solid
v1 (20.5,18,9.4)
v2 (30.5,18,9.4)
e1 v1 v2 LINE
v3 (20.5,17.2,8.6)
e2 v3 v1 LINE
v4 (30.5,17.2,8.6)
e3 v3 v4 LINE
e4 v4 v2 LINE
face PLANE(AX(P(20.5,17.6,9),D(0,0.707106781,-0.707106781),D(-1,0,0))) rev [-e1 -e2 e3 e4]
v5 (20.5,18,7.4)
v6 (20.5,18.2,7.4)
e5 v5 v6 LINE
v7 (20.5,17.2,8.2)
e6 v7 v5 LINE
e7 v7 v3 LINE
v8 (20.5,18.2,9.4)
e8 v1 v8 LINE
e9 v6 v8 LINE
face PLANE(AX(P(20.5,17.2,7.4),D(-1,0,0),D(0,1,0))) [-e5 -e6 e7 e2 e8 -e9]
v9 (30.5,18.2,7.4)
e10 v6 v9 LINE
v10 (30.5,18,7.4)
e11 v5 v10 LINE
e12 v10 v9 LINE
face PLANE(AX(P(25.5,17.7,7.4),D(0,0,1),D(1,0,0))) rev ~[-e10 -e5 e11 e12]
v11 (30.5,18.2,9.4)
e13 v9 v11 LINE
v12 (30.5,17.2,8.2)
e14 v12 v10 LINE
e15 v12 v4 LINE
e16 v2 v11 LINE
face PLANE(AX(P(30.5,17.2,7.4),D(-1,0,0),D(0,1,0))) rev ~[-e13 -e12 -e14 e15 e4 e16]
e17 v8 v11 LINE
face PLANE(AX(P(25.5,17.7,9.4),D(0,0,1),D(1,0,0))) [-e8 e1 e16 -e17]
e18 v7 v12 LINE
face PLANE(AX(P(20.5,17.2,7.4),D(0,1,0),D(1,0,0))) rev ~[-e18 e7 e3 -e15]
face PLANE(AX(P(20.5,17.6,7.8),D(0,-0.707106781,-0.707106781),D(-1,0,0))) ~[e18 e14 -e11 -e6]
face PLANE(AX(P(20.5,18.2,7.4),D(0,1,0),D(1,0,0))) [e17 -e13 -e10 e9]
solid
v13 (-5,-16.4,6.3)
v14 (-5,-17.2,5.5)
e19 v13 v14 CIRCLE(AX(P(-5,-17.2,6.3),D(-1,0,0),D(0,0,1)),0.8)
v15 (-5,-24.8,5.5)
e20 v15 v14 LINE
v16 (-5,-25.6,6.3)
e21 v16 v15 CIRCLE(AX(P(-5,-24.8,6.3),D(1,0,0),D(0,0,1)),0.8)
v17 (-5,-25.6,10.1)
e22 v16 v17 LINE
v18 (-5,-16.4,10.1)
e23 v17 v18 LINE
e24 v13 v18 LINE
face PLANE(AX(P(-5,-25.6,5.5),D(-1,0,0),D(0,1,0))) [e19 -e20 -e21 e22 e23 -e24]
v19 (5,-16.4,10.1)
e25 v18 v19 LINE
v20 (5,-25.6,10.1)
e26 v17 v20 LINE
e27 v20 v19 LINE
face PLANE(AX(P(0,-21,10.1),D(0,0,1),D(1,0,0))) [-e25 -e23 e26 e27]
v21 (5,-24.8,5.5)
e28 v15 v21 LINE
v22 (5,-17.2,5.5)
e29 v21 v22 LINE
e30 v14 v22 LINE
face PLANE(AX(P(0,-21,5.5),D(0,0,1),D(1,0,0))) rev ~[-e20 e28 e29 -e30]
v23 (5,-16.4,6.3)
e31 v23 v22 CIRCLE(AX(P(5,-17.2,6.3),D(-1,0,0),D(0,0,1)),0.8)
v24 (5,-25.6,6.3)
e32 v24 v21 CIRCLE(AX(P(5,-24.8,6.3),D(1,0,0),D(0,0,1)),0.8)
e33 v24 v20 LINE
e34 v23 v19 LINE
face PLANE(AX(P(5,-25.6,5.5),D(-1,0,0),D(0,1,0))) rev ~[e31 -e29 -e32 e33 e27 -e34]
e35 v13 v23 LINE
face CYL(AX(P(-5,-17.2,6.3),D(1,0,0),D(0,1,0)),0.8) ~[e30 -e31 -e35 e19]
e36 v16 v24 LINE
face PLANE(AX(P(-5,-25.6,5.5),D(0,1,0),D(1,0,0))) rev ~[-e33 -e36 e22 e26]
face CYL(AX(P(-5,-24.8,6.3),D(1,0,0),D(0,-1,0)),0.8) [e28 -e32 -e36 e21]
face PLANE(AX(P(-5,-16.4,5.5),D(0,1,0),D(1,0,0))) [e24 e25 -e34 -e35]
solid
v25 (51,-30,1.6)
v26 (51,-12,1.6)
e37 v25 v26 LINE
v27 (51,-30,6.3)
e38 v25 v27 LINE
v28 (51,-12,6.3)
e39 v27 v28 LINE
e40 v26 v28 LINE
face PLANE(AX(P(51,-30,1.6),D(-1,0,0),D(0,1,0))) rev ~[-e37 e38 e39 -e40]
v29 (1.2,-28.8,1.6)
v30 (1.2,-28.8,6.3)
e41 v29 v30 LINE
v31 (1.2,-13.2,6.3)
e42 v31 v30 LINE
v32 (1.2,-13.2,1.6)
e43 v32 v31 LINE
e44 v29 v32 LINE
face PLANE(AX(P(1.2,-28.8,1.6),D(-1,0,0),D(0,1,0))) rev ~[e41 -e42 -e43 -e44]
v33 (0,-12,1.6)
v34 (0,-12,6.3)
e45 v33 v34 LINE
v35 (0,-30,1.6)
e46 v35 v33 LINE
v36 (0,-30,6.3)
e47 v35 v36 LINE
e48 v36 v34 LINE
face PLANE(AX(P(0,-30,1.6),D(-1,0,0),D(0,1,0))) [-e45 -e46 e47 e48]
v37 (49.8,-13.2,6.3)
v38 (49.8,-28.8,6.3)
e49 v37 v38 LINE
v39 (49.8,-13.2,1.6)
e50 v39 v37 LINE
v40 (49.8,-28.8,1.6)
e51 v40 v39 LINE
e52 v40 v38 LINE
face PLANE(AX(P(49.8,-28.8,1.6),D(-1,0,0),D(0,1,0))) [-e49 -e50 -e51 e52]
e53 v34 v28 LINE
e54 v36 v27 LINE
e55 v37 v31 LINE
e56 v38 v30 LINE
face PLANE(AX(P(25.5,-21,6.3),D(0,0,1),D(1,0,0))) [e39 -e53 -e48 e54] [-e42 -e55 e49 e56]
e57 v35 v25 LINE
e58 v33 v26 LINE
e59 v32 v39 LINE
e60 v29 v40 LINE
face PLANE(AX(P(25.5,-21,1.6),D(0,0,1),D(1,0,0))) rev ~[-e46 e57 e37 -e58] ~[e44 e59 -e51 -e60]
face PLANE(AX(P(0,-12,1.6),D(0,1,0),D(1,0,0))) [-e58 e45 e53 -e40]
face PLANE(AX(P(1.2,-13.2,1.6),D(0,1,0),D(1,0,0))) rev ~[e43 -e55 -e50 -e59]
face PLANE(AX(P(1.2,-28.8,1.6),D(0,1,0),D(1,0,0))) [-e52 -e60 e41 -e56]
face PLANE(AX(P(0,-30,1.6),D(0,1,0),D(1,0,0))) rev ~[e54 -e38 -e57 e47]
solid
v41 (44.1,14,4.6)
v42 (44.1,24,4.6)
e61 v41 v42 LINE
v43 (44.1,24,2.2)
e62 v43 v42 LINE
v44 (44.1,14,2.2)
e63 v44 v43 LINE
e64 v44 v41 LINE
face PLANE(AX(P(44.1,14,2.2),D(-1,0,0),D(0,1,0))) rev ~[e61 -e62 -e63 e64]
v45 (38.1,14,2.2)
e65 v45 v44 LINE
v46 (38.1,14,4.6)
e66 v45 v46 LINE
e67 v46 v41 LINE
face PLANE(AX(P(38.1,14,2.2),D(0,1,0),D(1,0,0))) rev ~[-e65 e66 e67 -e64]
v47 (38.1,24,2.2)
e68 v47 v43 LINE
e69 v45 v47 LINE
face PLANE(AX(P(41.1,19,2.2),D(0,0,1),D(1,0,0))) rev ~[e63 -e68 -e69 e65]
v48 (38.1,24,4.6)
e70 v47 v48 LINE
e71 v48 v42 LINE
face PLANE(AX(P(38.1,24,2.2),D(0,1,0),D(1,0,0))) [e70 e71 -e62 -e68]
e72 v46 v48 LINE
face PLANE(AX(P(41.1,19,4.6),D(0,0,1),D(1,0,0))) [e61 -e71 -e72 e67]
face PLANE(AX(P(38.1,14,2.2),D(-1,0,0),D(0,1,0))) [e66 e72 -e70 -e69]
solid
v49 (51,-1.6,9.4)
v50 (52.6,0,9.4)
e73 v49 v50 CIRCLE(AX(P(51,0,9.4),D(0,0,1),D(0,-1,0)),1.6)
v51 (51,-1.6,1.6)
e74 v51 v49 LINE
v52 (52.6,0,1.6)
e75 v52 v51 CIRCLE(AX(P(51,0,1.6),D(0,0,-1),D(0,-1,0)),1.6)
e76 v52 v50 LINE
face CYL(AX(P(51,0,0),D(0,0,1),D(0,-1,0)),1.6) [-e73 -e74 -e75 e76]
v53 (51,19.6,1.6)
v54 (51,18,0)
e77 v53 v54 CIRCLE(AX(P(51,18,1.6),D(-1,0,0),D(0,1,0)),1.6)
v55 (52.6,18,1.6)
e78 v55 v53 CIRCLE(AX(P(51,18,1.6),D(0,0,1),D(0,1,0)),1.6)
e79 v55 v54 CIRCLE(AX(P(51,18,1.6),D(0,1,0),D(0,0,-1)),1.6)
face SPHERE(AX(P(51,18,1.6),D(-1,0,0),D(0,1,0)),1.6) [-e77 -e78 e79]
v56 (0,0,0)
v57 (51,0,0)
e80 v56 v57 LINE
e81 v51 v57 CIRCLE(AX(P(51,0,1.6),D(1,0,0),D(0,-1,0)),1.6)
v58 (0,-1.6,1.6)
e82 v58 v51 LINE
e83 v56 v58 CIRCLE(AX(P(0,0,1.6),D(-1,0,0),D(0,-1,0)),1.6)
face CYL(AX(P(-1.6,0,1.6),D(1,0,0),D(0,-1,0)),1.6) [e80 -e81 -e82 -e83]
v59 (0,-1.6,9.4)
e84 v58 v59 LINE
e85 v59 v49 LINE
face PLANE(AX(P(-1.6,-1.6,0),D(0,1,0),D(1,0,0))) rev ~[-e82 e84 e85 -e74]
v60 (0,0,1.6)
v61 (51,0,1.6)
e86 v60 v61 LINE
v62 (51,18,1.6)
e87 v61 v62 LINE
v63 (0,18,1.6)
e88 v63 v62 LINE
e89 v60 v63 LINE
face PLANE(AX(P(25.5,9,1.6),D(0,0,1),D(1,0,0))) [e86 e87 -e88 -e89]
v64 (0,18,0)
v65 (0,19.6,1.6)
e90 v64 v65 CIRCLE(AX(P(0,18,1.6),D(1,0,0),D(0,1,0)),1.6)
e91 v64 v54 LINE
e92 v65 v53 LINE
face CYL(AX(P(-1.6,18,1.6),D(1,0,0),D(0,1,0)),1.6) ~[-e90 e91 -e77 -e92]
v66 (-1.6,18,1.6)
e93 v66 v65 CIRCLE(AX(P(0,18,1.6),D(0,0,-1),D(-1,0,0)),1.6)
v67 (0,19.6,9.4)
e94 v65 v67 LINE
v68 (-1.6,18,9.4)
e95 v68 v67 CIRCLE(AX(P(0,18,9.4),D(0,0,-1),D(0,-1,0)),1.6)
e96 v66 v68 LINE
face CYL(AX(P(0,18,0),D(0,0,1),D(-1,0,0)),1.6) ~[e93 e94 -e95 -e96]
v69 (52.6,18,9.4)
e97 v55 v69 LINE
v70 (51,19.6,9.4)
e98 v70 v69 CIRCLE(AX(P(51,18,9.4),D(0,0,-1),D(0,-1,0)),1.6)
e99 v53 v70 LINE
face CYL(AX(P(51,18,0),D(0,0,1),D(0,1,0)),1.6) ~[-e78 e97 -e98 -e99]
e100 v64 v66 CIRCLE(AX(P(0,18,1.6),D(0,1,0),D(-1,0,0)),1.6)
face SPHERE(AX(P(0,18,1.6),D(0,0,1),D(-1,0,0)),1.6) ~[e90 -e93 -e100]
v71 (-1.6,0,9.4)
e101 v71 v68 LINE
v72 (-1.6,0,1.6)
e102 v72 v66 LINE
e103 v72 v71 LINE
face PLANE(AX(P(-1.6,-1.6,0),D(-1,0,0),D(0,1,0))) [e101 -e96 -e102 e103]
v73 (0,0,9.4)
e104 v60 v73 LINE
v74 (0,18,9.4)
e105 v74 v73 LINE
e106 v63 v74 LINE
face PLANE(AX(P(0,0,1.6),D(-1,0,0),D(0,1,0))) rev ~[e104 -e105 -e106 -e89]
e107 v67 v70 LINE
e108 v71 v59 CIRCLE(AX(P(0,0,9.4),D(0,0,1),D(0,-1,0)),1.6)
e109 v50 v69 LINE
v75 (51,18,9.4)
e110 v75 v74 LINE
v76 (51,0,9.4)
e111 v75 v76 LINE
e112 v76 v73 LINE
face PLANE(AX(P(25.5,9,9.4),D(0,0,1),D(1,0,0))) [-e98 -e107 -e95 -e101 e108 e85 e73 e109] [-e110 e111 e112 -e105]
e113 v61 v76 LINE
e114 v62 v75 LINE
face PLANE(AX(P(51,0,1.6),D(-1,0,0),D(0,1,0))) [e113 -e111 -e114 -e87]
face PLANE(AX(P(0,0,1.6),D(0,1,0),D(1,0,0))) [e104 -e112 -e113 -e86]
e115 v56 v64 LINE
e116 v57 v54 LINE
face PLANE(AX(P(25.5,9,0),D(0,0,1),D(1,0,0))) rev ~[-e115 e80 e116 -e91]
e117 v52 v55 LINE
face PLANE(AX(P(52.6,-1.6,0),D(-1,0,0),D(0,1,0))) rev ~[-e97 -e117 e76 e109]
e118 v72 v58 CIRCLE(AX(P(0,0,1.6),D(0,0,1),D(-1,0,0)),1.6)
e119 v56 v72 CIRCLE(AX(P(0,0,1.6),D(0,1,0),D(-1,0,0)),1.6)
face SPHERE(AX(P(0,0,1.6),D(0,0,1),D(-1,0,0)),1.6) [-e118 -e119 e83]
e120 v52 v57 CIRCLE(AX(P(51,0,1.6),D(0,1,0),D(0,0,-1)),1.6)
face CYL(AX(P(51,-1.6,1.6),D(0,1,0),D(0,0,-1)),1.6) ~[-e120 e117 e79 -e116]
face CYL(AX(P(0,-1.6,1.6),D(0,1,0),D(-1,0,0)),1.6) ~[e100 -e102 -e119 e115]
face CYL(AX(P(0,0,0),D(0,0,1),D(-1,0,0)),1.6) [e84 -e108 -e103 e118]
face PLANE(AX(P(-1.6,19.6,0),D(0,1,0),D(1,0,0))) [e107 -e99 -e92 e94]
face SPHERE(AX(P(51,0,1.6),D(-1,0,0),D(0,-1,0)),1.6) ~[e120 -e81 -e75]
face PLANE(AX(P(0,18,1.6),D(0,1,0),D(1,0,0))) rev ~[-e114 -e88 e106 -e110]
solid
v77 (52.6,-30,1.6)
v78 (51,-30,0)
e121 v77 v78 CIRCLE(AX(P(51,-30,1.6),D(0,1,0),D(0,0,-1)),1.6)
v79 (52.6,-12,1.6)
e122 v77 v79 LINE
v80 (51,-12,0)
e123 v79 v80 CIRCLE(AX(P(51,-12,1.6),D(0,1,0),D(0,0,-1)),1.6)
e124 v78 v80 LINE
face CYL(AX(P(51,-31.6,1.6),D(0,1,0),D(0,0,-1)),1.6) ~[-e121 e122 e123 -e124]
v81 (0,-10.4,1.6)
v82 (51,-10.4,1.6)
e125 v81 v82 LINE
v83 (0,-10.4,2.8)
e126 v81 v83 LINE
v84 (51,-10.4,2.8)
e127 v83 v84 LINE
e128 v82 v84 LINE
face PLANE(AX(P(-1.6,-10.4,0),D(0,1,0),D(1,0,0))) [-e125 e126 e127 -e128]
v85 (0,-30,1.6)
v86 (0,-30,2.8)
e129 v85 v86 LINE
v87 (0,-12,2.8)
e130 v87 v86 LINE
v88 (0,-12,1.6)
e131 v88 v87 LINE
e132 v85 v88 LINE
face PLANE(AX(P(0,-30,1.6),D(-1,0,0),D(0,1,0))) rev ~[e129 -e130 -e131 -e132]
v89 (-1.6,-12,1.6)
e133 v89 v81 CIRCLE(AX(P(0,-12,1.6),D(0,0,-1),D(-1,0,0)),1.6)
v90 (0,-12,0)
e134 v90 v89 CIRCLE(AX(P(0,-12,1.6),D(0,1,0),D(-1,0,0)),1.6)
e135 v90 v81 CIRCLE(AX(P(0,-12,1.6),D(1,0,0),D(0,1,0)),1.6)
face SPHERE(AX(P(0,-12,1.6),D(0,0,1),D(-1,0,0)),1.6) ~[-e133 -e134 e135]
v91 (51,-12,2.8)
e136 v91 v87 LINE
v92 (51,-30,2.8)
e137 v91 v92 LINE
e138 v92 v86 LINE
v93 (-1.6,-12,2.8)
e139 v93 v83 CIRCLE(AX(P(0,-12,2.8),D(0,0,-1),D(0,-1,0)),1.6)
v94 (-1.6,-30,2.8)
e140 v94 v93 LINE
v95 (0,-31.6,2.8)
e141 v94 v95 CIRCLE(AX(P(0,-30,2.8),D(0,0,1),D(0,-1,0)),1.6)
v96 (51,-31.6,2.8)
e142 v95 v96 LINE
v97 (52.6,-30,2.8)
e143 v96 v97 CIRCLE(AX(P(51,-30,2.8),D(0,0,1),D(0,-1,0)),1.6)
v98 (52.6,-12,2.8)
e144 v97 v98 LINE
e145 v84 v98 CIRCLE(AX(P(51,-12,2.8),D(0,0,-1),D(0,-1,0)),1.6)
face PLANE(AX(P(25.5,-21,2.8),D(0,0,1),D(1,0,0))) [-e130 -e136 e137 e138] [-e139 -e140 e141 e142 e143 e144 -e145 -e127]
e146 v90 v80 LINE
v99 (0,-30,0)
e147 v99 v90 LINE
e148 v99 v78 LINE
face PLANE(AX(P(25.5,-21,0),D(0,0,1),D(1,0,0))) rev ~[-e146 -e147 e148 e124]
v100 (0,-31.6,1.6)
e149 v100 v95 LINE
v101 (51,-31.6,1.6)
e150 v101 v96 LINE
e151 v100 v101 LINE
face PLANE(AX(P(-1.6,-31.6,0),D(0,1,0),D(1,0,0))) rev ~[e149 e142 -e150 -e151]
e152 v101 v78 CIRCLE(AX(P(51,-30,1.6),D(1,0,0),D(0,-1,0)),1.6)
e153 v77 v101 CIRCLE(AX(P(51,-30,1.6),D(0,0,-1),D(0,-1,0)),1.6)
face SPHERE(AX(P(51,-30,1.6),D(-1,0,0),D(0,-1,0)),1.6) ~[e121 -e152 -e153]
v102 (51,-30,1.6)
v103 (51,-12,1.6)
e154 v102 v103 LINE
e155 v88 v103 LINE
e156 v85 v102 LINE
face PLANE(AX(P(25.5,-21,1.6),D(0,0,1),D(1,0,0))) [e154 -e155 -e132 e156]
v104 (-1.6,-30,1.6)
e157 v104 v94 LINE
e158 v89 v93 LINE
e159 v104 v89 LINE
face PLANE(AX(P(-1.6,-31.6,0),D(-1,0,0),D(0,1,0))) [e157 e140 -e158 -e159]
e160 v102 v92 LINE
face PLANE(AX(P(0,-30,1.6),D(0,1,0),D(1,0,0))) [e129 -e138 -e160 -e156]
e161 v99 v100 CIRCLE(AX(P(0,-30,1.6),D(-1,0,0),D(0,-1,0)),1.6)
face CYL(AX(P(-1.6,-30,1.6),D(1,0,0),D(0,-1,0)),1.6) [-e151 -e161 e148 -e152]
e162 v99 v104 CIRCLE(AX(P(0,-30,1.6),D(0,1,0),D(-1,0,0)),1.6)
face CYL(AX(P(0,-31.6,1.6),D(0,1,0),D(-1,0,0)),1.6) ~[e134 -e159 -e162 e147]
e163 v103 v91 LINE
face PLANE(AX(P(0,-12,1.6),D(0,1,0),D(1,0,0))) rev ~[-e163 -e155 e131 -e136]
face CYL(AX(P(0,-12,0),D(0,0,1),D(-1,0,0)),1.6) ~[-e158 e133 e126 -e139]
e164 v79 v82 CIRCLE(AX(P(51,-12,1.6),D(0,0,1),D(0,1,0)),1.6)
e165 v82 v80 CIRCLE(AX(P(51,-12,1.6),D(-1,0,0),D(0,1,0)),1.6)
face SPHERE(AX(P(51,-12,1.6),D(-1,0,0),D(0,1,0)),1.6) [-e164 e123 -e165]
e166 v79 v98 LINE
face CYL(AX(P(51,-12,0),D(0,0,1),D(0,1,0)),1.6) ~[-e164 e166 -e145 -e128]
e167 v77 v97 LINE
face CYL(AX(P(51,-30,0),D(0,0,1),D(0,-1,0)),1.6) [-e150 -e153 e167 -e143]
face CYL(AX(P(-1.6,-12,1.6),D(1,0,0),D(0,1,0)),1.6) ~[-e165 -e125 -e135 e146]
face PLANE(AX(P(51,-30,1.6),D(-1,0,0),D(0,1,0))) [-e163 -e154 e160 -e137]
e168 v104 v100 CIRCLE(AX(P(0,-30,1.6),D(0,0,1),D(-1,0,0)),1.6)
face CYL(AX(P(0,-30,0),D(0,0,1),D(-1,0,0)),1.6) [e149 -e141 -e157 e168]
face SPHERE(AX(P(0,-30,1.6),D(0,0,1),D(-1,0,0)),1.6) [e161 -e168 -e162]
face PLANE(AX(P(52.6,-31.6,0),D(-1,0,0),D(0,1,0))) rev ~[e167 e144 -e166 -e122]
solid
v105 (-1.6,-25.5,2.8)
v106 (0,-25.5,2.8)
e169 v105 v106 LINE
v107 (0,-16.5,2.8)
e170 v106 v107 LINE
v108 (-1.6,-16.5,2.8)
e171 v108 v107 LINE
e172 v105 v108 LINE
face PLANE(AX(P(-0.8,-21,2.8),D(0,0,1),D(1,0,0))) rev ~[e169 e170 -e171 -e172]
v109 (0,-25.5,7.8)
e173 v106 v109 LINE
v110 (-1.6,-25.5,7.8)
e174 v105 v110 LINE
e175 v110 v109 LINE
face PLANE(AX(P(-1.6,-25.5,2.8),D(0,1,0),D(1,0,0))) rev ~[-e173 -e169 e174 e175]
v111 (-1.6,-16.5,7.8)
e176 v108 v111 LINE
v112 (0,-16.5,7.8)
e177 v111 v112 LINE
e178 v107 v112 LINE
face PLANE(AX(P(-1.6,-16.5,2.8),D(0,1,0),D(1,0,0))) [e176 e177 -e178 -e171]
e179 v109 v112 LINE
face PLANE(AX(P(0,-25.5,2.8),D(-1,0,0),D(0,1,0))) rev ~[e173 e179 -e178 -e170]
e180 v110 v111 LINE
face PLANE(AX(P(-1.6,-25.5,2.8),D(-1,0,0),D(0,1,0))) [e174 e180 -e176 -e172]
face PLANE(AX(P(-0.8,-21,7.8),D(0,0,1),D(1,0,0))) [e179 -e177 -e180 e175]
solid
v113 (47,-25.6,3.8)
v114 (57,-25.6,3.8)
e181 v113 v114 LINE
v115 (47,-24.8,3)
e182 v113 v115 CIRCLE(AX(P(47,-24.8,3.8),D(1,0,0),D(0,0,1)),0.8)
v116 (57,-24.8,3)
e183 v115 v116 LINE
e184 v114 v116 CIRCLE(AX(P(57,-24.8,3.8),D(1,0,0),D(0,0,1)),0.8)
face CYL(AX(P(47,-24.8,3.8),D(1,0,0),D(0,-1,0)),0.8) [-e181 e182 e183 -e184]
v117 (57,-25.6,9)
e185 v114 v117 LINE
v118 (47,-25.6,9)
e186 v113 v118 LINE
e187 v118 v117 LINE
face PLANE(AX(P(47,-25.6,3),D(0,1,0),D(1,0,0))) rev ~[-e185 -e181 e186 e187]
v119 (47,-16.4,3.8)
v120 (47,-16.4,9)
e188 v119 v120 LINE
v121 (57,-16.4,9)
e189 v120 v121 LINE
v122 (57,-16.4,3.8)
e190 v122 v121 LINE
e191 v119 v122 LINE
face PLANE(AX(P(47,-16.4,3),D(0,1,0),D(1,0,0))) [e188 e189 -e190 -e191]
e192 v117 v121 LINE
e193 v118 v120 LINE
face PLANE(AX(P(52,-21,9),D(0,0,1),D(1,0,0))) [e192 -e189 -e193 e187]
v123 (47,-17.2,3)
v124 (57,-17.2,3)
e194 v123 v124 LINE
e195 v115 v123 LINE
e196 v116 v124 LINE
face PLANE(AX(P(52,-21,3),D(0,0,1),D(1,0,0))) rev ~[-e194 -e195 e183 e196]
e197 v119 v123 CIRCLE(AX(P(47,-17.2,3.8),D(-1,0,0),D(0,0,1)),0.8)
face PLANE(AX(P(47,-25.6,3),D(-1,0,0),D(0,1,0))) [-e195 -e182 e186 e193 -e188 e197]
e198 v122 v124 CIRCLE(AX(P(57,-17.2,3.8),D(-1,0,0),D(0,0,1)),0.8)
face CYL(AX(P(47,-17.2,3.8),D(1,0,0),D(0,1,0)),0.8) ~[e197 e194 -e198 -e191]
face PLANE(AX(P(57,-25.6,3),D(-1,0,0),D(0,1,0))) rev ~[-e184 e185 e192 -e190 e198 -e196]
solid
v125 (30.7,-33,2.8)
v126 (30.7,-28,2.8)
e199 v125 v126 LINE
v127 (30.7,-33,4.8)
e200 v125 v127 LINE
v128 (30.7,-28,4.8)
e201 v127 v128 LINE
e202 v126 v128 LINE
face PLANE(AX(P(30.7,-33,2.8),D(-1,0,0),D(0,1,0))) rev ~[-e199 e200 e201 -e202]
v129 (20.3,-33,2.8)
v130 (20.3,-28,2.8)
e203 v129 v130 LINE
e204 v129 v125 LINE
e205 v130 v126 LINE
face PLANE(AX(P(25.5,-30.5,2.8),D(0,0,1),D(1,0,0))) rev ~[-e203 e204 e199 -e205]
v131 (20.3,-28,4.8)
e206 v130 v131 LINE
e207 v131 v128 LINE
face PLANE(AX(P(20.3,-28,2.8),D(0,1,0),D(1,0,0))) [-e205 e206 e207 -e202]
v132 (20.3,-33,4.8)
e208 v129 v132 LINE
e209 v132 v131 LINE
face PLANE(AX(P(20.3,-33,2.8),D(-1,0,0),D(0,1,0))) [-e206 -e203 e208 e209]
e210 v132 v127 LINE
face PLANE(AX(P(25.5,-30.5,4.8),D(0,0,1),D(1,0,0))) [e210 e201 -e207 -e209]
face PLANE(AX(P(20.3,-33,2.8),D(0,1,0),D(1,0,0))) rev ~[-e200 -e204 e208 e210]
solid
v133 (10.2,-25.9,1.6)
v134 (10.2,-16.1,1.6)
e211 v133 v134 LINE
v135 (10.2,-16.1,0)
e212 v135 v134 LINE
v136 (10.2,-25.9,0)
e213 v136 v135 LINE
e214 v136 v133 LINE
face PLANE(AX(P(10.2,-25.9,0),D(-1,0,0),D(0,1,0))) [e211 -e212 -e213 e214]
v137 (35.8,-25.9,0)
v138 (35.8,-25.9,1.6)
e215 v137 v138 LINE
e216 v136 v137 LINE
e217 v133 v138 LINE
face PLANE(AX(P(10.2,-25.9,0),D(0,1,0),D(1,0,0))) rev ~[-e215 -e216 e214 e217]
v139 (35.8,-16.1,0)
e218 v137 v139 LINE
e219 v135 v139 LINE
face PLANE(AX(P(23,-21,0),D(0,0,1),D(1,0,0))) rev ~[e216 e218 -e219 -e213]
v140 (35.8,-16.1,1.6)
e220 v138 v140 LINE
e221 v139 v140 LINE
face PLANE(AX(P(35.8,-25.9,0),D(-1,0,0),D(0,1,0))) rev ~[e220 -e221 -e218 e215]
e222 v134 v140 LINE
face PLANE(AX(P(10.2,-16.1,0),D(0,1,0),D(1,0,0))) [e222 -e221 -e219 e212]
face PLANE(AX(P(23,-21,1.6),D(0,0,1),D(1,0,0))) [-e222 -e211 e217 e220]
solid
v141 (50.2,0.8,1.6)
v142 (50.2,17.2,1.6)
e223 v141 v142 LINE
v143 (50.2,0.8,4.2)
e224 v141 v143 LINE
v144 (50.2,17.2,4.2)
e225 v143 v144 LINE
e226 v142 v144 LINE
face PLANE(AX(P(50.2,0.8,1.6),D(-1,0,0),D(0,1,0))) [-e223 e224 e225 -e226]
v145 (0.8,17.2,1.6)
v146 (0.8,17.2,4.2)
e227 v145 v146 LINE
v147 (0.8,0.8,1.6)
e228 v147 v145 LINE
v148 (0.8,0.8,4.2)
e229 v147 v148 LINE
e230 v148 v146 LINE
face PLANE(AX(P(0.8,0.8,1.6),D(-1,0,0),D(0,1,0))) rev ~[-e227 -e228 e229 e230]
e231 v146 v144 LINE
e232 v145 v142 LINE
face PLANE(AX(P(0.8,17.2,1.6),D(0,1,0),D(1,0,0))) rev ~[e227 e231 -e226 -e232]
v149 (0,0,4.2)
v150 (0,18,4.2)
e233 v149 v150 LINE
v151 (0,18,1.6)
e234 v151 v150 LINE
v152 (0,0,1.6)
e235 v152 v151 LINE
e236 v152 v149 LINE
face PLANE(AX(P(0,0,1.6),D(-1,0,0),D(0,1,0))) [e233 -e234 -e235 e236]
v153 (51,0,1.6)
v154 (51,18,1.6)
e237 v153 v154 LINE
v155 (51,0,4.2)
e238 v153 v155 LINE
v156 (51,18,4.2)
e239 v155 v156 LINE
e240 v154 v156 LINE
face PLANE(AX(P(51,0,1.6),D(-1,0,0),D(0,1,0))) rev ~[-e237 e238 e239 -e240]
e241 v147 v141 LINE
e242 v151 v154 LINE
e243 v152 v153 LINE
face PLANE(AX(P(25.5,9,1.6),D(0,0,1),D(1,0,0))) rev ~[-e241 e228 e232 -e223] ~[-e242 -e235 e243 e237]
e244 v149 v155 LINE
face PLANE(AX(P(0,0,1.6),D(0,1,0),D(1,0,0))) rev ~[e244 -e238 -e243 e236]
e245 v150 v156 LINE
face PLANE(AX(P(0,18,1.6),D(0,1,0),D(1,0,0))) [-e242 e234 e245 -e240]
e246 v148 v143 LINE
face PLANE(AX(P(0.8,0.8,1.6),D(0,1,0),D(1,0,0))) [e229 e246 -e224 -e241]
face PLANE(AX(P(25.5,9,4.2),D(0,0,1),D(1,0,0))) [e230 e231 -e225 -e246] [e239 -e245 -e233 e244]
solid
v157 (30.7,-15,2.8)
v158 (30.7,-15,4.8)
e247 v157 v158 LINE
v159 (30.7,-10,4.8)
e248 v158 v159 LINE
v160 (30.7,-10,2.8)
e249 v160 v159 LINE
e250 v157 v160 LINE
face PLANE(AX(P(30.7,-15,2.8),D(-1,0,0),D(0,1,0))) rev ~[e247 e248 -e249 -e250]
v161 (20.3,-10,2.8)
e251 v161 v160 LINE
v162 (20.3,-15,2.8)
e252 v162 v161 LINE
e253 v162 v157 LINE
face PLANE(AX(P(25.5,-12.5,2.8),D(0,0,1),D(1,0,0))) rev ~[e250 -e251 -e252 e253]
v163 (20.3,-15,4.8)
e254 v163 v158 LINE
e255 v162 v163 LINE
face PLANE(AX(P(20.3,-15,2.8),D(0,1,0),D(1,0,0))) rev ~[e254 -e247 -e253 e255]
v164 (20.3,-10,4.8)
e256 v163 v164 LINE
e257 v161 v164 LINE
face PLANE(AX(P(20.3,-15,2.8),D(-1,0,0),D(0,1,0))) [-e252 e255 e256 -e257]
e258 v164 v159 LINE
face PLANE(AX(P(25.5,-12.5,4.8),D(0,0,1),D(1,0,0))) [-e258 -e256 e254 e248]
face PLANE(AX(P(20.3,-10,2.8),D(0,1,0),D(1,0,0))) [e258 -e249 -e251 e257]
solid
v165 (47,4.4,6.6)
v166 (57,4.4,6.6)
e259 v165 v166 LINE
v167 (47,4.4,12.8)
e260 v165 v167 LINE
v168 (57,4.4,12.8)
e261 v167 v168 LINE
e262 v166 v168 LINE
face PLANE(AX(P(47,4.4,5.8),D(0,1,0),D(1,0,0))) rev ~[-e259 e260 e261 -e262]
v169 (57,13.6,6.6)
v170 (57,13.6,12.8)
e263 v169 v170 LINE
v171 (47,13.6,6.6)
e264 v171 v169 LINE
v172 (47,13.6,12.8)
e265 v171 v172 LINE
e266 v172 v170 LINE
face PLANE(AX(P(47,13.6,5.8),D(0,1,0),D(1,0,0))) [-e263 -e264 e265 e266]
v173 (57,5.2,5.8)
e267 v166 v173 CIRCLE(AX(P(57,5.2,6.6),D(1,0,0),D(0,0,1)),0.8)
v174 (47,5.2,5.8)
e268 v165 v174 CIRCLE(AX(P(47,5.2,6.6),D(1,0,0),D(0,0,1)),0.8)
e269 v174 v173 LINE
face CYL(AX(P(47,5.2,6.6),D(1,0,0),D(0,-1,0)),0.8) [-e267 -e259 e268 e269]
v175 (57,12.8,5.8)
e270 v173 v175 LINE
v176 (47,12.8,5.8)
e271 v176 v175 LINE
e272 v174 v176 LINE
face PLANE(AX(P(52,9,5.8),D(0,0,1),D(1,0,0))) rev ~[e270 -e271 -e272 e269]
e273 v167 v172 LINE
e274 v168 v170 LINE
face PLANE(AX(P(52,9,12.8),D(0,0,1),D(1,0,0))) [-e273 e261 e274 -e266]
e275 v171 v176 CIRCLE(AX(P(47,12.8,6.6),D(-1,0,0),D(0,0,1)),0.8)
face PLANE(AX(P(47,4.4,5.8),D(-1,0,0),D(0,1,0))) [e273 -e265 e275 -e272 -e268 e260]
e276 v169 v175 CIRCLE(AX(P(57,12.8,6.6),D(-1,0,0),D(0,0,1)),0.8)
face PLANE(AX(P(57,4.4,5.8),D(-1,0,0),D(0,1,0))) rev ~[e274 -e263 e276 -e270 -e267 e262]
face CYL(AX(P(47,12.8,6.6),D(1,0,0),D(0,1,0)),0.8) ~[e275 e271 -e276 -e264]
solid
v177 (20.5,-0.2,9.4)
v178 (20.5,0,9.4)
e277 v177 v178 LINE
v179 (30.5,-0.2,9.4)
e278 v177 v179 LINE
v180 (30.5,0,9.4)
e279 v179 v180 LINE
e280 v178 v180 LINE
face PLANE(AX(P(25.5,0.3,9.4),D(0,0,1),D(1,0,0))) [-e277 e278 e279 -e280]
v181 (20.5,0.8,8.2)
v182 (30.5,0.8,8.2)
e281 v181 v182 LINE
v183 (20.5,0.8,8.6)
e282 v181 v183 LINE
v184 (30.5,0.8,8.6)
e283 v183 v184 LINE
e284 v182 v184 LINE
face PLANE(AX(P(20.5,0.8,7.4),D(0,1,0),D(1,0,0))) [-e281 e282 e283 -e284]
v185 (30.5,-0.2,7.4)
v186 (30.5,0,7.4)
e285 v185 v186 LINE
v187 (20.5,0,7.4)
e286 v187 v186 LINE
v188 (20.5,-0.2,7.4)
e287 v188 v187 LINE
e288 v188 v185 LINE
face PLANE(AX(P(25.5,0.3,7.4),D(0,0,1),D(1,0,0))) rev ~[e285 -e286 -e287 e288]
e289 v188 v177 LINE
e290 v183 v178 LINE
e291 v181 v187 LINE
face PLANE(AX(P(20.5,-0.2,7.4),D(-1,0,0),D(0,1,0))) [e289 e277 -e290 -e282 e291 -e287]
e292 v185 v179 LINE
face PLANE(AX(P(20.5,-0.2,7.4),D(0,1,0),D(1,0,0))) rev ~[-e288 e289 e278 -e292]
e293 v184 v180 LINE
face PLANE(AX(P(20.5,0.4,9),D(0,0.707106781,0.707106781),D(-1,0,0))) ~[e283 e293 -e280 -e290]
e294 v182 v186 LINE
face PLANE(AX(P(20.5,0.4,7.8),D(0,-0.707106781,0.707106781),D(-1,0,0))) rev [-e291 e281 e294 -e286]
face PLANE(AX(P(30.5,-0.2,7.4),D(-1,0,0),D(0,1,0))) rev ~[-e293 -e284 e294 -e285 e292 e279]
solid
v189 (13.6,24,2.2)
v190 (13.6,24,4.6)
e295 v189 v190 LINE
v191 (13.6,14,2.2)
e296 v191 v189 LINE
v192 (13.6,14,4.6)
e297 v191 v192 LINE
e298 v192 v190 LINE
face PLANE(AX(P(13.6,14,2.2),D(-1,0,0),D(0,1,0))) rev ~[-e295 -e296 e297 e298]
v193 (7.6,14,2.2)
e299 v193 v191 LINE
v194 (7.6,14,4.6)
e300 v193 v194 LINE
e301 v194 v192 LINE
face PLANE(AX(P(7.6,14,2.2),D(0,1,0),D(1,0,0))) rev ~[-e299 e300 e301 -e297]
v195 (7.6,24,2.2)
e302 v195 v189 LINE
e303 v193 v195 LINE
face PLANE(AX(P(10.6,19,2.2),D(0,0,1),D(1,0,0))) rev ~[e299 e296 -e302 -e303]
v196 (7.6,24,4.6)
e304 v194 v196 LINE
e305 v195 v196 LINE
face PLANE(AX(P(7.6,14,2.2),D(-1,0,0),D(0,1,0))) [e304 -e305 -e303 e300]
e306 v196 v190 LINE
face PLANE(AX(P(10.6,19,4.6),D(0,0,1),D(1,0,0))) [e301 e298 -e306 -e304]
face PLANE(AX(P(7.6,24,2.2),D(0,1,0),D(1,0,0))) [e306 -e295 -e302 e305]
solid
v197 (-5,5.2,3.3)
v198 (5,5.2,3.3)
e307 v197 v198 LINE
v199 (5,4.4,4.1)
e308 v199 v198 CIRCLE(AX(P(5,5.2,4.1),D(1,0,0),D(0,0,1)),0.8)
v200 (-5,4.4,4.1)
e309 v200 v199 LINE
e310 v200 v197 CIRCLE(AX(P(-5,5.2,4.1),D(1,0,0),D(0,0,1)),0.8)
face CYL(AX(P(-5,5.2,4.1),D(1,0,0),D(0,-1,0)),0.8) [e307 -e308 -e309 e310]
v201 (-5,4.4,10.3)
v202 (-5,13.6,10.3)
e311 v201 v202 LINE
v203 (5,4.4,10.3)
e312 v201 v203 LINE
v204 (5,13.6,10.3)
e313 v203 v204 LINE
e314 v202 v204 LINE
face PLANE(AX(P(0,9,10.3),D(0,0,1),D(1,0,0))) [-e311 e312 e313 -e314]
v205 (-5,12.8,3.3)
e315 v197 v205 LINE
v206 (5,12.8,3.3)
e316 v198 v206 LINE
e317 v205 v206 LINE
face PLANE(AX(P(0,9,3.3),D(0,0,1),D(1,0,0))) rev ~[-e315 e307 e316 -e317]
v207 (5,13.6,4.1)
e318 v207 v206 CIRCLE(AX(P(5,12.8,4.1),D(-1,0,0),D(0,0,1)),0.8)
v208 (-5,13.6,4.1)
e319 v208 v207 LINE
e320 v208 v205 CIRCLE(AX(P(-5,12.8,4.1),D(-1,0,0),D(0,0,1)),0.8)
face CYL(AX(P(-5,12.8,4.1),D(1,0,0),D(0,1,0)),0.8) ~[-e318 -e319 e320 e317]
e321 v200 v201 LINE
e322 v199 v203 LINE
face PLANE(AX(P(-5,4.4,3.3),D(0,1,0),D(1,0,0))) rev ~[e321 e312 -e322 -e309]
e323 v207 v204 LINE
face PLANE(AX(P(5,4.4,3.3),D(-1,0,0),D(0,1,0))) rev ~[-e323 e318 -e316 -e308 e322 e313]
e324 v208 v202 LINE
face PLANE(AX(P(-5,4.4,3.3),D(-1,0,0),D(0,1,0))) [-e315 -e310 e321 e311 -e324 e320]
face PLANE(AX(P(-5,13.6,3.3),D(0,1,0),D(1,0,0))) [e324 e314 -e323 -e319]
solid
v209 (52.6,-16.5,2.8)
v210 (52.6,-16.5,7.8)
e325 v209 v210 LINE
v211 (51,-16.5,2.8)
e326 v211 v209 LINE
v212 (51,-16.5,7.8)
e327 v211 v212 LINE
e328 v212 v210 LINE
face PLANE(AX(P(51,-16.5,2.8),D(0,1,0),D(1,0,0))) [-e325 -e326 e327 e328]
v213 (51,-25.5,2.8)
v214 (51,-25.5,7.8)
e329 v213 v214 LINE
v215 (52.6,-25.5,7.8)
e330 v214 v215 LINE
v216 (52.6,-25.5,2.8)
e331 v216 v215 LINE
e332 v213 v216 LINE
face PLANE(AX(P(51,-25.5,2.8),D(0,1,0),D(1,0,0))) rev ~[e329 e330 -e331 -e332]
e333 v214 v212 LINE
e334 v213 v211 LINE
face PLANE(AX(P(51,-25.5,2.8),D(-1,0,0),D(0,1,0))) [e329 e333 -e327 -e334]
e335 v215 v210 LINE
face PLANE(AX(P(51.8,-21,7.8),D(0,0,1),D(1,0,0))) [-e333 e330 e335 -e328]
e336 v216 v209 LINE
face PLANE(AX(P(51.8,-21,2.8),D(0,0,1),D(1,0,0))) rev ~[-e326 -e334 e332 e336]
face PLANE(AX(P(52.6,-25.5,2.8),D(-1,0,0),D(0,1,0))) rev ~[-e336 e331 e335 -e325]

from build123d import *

# Parameters (mm, degrees)
BOX001_W        = 51
BOX001_H        = 18
BOX001_DEPTH    = 9.4
BOX_W           = 54.2
BOX_H           = 21.2
BOX_DEPTH       = 9.4
FILLET_R        = 1.6
BOX003_W        = 49.4
BOX003_H        = 16.4
BOX003_DEPTH    = 2.6
BOX002_W        = 51
BOX002_H        = 18
BOX002_DEPTH    = 2.6
BOX004_W        = 10
BOX004_H        = 1
BOX004_DEPTH    = 2
CHAMFER_SIZE    = 0.8
BOX005_W        = 10
BOX005_H        = 1
BOX005_DEPTH    = 2
CHAMFER001_SIZE = 0.8
BOX008_W        = 6
BOX008_H        = 10
BOX008_DEPTH    = 2.4
BOX009_W        = 6
BOX009_H        = 10
BOX009_DEPTH    = 2.4
BOX011_W        = 51
BOX011_H        = 18
BOX011_DEPTH    = 9.4
BOX010_W        = 54.2
BOX010_H        = 21.2
BOX010_DEPTH    = 2.8
FILLET001_R     = 1.6
BOX013_W        = 48.6
BOX013_H        = 15.6
BOX013_DEPTH    = 4.8
BOX012_W        = 51
BOX012_H        = 18
BOX012_DEPTH    = 4.7
BOX014_W        = 25.6
BOX014_H        = 9.8
BOX014_DEPTH    = 1.6
BOX017_W        = 10.4
BOX017_H        = 5
BOX017_DEPTH    = 2
BOX018_W        = 10.4
BOX018_H        = 5
BOX018_DEPTH    = 2
BOX006_W        = 10
BOX006_H        = 9.2
BOX006_DEPTH    = 7
FILLET002_R     = 0.8
BOX019_W        = 10
BOX019_H        = 9.2
BOX019_DEPTH    = 7
FILLET003_R     = 0.8
BOX022_W        = 1.6
BOX022_H        = 9
BOX022_DEPTH    = 5
BOX023_W        = 1.6
BOX023_H        = 9
BOX023_DEPTH    = 5
BOX020_W        = 10
BOX020_H        = 9.2
BOX020_DEPTH    = 4.6
FILLET004_R     = 0.8
BOX021_W        = 10
BOX021_H        = 9.2
BOX021_DEPTH    = 6
FILLET005_R     = 0.8


with BuildPart() as unten_innen:
    # Box001 → Box001 (new body)
    with BuildSketch(Plane.XY.offset(1.6)):
        with Locations((25.5, 9)):
            Rectangle(BOX001_W, BOX001_H)
    extrude(amount=BOX001_DEPTH)


with BuildPart() as schale_unten:
    # Box → Box (new body)
    with BuildSketch(Plane(origin=(-1.6, -1.6, 0), x_dir=(1, 0, 0), z_dir=(0, 0, 1))):
        with Locations((27.1, 10.6)):
            Rectangle(BOX_W, BOX_H)
    extrude(amount=BOX_DEPTH)

    # Cut: cut unten_innen
    add(unten_innen.part, mode=Mode.SUBTRACT)

    # Fillet
    fillet_edges = [schale_unten.edges().sort_by_distance(p)[0] for p in [
        (-1.6, -1.6, 4.7),
        (-1.6, 19.6, 4.7),
        (-1.6, 9, 0),
        (25.5, -1.6, 0),
        (52.6, -1.6, 4.7),
        (25.5, 19.6, 0),
        (52.6, 19.6, 4.7),
        (52.6, 9, 0),
    ]]
    fillet(fillet_edges, radius=FILLET_R)


with BuildPart() as auflage_innen:
    # Box003 → Box003 (new body)
    with BuildSketch(Plane(origin=(0.8, 0.8, 1.6), x_dir=(1, 0, 0), z_dir=(0, 0, 1))):
        with Locations((24.7, 8.2)):
            Rectangle(BOX003_W, BOX003_H)
    extrude(amount=BOX003_DEPTH)


with BuildPart() as auflage:
    # Box002 → Box002 (new body)
    with BuildSketch(Plane.XY.offset(1.6)):
        with Locations((25.5, 9)):
            Rectangle(BOX002_W, BOX002_H)
    extrude(amount=BOX002_DEPTH)

    # Cut001: cut Auflage_innen
    add(auflage_innen.part, mode=Mode.SUBTRACT)


with BuildPart() as haken1:
    # Box004 → Box004 (new body)
    with BuildSketch(Plane(origin=(20.5, -0.2, 7.4), x_dir=(1, 0, 0), z_dir=(0, 0, 1))):
        with Locations((5, 0.5)):
            Rectangle(BOX004_W, BOX004_H)
    extrude(amount=BOX004_DEPTH)

    # Chamfer
    chamfer_edges = [haken1.edges().sort_by_distance(p)[0] for p in [
        (25.5, 0.8, 7.4),
        (25.5, 0.8, 9.4),
    ]]
    chamfer(chamfer_edges, length=CHAMFER_SIZE)


with BuildPart() as haken2:
    # Box005 → Box005 (new body)
    with BuildSketch(Plane(origin=(20.5, 17.2, 7.4), x_dir=(1, 0, 0), z_dir=(0, 0, 1))):
        with Locations((5, 0.5)):
            Rectangle(BOX005_W, BOX005_H)
    extrude(amount=BOX005_DEPTH)

    # Chamfer001
    chamfer001_edges = [haken2.edges().sort_by_distance(p)[0] for p in [
        (25.5, 17.2, 7.4),
        (25.5, 17.2, 9.4),
    ]]
    chamfer(chamfer001_edges, length=CHAMFER001_SIZE)


with BuildPart() as button1:
    # Box008 → Box008 (new body)
    with BuildSketch(Plane(origin=(7.6, 14, 2.2), x_dir=(1, 0, 0), z_dir=(0, 0, 1))):
        with Locations((3, 5)):
            Rectangle(BOX008_W, BOX008_H)
    extrude(amount=BOX008_DEPTH)


with BuildPart() as button2:
    # Box009 → Box009 (new body)
    with BuildSketch(Plane(origin=(38.1, 14, 2.2), x_dir=(1, 0, 0), z_dir=(0, 0, 1))):
        with Locations((3, 5)):
            Rectangle(BOX009_W, BOX009_H)
    extrude(amount=BOX009_DEPTH)


with BuildPart() as oben_innen:
    # Box011 → Box011 (new body)
    with BuildSketch(Plane(origin=(0, -30, 1.6), x_dir=(1, 0, 0), z_dir=(0, 0, 1))):
        with Locations((25.5, 9)):
            Rectangle(BOX011_W, BOX011_H)
    extrude(amount=BOX011_DEPTH)


with BuildPart() as schale_oben:
    # Box010 → Box010 (new body)
    with BuildSketch(Plane(origin=(-1.6, -31.6, 0), x_dir=(1, 0, 0), z_dir=(0, 0, 1))):
        with Locations((27.1, 10.6)):
            Rectangle(BOX010_W, BOX010_H)
    extrude(amount=BOX010_DEPTH)

    # Cut002: cut oben_innen
    add(oben_innen.part, mode=Mode.SUBTRACT)

    # Fillet001
    fillet001_edges = [schale_oben.edges().sort_by_distance(p)[0] for p in [
        (-1.6, -31.6, 1.4),
        (-1.6, -10.4, 1.4),
        (-1.6, -21, 0),
        (25.5, -31.6, 0),
        (52.6, -31.6, 1.4),
        (25.5, -10.4, 0),
        (52.6, -10.4, 1.4),
        (52.6, -21, 0),
    ]]
    fillet(fillet001_edges, radius=FILLET001_R)


with BuildPart() as rahmen_innen:
    # Box013 → Box013 (new body)
    with BuildSketch(Plane(origin=(1.2, -28.8, 1.6), x_dir=(1, 0, 0), z_dir=(0, 0, 1))):
        with Locations((24.3, 7.8)):
            Rectangle(BOX013_W, BOX013_H)
    extrude(amount=BOX013_DEPTH)


with BuildPart() as rahmen:
    # Box012 → Box012 (new body)
    with BuildSketch(Plane(origin=(0, -30, 1.6), x_dir=(1, 0, 0), z_dir=(0, 0, 1))):
        with Locations((25.5, 9)):
            Rectangle(BOX012_W, BOX012_H)
    extrude(amount=BOX012_DEPTH)

    # Cut003: cut Rahmen_innen
    add(rahmen_innen.part, mode=Mode.SUBTRACT)


with BuildPart() as oled:
    # Box014 → Box014 (new body)
    with BuildSketch(Plane(origin=(10.2, -25.9, 0), x_dir=(1, 0, 0), z_dir=(0, 0, 1))):
        with Locations((12.8, 4.9)):
            Rectangle(BOX014_W, BOX014_H)
    extrude(amount=BOX014_DEPTH)


with BuildPart() as oese1:
    # Box017 → Box017 (new body)
    with BuildSketch(Plane(origin=(20.3, -33, 2.8), x_dir=(1, 0, 0), z_dir=(0, 0, 1))):
        with Locations((5.2, 2.5)):
            Rectangle(BOX017_W, BOX017_H)
    extrude(amount=BOX017_DEPTH)


with BuildPart() as oese2:
    # Box018 → Box018 (new body)
    with BuildSketch(Plane(origin=(20.3, -15, 2.8), x_dir=(1, 0, 0), z_dir=(0, 0, 1))):
        with Locations((5.2, 2.5)):
            Rectangle(BOX018_W, BOX018_H)
    extrude(amount=BOX018_DEPTH)


with BuildPart() as usb_buchse1:
    # Box006 → Box006 (new body)
    with BuildSketch(Plane(origin=(-5, 4.4, 3.3), x_dir=(1, 0, 0), z_dir=(0, 0, 1))):
        with Locations((5, 4.6)):
            Rectangle(BOX006_W, BOX006_H)
    extrude(amount=BOX006_DEPTH)

    # Fillet002
    fillet002_edges = [usb_buchse1.edges().sort_by_distance(p)[0] for p in [
        (0, 4.4, 3.3),
        (0, 13.6, 3.3),
    ]]
    fillet(fillet002_edges, radius=FILLET002_R)


with BuildPart() as usb_buchse2:
    # Box019 → Box019 (new body)
    with BuildSketch(Plane(origin=(47, 4.4, 5.8), x_dir=(1, 0, 0), z_dir=(0, 0, 1))):
        with Locations((5, 4.6)):
            Rectangle(BOX019_W, BOX019_H)
    extrude(amount=BOX019_DEPTH)

    # Fillet003
    fillet003_edges = [usb_buchse2.edges().sort_by_distance(p)[0] for p in [
        (52, 4.4, 5.8),
        (52, 13.6, 5.8),
    ]]
    fillet(fillet003_edges, radius=FILLET003_R)


with BuildPart() as nut1:
    # Box022 → Box022 (new body)
    with BuildSketch(Plane(origin=(-1.6, -25.5, 2.8), x_dir=(1, 0, 0), z_dir=(0, 0, 1))):
        with Locations((0.8, 4.5)):
            Rectangle(BOX022_W, BOX022_H)
    extrude(amount=BOX022_DEPTH)


with BuildPart() as nut2:
    # Box023 → Box023 (new body)
    with BuildSketch(Plane(origin=(51, -25.5, 2.8), x_dir=(1, 0, 0), z_dir=(0, 0, 1))):
        with Locations((0.8, 4.5)):
            Rectangle(BOX023_W, BOX023_H)
    extrude(amount=BOX023_DEPTH)


with BuildPart() as usb_buchse3:
    # Box020 → Box020 (new body)
    with BuildSketch(Plane(origin=(-5, -25.6, 5.5), x_dir=(1, 0, 0), z_dir=(0, 0, 1))):
        with Locations((5, 4.6)):
            Rectangle(BOX020_W, BOX020_H)
    extrude(amount=BOX020_DEPTH)

    # Fillet004
    fillet004_edges = [usb_buchse3.edges().sort_by_distance(p)[0] for p in [
        (0, -25.6, 5.5),
        (0, -16.4, 5.5),
    ]]
    fillet(fillet004_edges, radius=FILLET004_R)


with BuildPart() as usb_buchse4:
    # Box021 → Box021 (new body)
    with BuildSketch(Plane(origin=(47, -25.6, 3), x_dir=(1, 0, 0), z_dir=(0, 0, 1))):
        with Locations((5, 4.6)):
            Rectangle(BOX021_W, BOX021_H)
    extrude(amount=BOX021_DEPTH)

    # Fillet005
    fillet005_edges = [usb_buchse4.edges().sort_by_distance(p)[0] for p in [
        (52, -25.6, 3),
        (52, -16.4, 3),
    ]]
    fillet(fillet005_edges, radius=FILLET005_R)


solid = Compound([schale_unten.part, auflage.part, haken1.part, haken2.part, button1.part, button2.part, schale_oben.part, rahmen.part, oled.part, oese1.part, oese2.part, usb_buchse1.part, usb_buchse2.part, nut1.part, nut2.part, usb_buchse3.part, usb_buchse4.part])
